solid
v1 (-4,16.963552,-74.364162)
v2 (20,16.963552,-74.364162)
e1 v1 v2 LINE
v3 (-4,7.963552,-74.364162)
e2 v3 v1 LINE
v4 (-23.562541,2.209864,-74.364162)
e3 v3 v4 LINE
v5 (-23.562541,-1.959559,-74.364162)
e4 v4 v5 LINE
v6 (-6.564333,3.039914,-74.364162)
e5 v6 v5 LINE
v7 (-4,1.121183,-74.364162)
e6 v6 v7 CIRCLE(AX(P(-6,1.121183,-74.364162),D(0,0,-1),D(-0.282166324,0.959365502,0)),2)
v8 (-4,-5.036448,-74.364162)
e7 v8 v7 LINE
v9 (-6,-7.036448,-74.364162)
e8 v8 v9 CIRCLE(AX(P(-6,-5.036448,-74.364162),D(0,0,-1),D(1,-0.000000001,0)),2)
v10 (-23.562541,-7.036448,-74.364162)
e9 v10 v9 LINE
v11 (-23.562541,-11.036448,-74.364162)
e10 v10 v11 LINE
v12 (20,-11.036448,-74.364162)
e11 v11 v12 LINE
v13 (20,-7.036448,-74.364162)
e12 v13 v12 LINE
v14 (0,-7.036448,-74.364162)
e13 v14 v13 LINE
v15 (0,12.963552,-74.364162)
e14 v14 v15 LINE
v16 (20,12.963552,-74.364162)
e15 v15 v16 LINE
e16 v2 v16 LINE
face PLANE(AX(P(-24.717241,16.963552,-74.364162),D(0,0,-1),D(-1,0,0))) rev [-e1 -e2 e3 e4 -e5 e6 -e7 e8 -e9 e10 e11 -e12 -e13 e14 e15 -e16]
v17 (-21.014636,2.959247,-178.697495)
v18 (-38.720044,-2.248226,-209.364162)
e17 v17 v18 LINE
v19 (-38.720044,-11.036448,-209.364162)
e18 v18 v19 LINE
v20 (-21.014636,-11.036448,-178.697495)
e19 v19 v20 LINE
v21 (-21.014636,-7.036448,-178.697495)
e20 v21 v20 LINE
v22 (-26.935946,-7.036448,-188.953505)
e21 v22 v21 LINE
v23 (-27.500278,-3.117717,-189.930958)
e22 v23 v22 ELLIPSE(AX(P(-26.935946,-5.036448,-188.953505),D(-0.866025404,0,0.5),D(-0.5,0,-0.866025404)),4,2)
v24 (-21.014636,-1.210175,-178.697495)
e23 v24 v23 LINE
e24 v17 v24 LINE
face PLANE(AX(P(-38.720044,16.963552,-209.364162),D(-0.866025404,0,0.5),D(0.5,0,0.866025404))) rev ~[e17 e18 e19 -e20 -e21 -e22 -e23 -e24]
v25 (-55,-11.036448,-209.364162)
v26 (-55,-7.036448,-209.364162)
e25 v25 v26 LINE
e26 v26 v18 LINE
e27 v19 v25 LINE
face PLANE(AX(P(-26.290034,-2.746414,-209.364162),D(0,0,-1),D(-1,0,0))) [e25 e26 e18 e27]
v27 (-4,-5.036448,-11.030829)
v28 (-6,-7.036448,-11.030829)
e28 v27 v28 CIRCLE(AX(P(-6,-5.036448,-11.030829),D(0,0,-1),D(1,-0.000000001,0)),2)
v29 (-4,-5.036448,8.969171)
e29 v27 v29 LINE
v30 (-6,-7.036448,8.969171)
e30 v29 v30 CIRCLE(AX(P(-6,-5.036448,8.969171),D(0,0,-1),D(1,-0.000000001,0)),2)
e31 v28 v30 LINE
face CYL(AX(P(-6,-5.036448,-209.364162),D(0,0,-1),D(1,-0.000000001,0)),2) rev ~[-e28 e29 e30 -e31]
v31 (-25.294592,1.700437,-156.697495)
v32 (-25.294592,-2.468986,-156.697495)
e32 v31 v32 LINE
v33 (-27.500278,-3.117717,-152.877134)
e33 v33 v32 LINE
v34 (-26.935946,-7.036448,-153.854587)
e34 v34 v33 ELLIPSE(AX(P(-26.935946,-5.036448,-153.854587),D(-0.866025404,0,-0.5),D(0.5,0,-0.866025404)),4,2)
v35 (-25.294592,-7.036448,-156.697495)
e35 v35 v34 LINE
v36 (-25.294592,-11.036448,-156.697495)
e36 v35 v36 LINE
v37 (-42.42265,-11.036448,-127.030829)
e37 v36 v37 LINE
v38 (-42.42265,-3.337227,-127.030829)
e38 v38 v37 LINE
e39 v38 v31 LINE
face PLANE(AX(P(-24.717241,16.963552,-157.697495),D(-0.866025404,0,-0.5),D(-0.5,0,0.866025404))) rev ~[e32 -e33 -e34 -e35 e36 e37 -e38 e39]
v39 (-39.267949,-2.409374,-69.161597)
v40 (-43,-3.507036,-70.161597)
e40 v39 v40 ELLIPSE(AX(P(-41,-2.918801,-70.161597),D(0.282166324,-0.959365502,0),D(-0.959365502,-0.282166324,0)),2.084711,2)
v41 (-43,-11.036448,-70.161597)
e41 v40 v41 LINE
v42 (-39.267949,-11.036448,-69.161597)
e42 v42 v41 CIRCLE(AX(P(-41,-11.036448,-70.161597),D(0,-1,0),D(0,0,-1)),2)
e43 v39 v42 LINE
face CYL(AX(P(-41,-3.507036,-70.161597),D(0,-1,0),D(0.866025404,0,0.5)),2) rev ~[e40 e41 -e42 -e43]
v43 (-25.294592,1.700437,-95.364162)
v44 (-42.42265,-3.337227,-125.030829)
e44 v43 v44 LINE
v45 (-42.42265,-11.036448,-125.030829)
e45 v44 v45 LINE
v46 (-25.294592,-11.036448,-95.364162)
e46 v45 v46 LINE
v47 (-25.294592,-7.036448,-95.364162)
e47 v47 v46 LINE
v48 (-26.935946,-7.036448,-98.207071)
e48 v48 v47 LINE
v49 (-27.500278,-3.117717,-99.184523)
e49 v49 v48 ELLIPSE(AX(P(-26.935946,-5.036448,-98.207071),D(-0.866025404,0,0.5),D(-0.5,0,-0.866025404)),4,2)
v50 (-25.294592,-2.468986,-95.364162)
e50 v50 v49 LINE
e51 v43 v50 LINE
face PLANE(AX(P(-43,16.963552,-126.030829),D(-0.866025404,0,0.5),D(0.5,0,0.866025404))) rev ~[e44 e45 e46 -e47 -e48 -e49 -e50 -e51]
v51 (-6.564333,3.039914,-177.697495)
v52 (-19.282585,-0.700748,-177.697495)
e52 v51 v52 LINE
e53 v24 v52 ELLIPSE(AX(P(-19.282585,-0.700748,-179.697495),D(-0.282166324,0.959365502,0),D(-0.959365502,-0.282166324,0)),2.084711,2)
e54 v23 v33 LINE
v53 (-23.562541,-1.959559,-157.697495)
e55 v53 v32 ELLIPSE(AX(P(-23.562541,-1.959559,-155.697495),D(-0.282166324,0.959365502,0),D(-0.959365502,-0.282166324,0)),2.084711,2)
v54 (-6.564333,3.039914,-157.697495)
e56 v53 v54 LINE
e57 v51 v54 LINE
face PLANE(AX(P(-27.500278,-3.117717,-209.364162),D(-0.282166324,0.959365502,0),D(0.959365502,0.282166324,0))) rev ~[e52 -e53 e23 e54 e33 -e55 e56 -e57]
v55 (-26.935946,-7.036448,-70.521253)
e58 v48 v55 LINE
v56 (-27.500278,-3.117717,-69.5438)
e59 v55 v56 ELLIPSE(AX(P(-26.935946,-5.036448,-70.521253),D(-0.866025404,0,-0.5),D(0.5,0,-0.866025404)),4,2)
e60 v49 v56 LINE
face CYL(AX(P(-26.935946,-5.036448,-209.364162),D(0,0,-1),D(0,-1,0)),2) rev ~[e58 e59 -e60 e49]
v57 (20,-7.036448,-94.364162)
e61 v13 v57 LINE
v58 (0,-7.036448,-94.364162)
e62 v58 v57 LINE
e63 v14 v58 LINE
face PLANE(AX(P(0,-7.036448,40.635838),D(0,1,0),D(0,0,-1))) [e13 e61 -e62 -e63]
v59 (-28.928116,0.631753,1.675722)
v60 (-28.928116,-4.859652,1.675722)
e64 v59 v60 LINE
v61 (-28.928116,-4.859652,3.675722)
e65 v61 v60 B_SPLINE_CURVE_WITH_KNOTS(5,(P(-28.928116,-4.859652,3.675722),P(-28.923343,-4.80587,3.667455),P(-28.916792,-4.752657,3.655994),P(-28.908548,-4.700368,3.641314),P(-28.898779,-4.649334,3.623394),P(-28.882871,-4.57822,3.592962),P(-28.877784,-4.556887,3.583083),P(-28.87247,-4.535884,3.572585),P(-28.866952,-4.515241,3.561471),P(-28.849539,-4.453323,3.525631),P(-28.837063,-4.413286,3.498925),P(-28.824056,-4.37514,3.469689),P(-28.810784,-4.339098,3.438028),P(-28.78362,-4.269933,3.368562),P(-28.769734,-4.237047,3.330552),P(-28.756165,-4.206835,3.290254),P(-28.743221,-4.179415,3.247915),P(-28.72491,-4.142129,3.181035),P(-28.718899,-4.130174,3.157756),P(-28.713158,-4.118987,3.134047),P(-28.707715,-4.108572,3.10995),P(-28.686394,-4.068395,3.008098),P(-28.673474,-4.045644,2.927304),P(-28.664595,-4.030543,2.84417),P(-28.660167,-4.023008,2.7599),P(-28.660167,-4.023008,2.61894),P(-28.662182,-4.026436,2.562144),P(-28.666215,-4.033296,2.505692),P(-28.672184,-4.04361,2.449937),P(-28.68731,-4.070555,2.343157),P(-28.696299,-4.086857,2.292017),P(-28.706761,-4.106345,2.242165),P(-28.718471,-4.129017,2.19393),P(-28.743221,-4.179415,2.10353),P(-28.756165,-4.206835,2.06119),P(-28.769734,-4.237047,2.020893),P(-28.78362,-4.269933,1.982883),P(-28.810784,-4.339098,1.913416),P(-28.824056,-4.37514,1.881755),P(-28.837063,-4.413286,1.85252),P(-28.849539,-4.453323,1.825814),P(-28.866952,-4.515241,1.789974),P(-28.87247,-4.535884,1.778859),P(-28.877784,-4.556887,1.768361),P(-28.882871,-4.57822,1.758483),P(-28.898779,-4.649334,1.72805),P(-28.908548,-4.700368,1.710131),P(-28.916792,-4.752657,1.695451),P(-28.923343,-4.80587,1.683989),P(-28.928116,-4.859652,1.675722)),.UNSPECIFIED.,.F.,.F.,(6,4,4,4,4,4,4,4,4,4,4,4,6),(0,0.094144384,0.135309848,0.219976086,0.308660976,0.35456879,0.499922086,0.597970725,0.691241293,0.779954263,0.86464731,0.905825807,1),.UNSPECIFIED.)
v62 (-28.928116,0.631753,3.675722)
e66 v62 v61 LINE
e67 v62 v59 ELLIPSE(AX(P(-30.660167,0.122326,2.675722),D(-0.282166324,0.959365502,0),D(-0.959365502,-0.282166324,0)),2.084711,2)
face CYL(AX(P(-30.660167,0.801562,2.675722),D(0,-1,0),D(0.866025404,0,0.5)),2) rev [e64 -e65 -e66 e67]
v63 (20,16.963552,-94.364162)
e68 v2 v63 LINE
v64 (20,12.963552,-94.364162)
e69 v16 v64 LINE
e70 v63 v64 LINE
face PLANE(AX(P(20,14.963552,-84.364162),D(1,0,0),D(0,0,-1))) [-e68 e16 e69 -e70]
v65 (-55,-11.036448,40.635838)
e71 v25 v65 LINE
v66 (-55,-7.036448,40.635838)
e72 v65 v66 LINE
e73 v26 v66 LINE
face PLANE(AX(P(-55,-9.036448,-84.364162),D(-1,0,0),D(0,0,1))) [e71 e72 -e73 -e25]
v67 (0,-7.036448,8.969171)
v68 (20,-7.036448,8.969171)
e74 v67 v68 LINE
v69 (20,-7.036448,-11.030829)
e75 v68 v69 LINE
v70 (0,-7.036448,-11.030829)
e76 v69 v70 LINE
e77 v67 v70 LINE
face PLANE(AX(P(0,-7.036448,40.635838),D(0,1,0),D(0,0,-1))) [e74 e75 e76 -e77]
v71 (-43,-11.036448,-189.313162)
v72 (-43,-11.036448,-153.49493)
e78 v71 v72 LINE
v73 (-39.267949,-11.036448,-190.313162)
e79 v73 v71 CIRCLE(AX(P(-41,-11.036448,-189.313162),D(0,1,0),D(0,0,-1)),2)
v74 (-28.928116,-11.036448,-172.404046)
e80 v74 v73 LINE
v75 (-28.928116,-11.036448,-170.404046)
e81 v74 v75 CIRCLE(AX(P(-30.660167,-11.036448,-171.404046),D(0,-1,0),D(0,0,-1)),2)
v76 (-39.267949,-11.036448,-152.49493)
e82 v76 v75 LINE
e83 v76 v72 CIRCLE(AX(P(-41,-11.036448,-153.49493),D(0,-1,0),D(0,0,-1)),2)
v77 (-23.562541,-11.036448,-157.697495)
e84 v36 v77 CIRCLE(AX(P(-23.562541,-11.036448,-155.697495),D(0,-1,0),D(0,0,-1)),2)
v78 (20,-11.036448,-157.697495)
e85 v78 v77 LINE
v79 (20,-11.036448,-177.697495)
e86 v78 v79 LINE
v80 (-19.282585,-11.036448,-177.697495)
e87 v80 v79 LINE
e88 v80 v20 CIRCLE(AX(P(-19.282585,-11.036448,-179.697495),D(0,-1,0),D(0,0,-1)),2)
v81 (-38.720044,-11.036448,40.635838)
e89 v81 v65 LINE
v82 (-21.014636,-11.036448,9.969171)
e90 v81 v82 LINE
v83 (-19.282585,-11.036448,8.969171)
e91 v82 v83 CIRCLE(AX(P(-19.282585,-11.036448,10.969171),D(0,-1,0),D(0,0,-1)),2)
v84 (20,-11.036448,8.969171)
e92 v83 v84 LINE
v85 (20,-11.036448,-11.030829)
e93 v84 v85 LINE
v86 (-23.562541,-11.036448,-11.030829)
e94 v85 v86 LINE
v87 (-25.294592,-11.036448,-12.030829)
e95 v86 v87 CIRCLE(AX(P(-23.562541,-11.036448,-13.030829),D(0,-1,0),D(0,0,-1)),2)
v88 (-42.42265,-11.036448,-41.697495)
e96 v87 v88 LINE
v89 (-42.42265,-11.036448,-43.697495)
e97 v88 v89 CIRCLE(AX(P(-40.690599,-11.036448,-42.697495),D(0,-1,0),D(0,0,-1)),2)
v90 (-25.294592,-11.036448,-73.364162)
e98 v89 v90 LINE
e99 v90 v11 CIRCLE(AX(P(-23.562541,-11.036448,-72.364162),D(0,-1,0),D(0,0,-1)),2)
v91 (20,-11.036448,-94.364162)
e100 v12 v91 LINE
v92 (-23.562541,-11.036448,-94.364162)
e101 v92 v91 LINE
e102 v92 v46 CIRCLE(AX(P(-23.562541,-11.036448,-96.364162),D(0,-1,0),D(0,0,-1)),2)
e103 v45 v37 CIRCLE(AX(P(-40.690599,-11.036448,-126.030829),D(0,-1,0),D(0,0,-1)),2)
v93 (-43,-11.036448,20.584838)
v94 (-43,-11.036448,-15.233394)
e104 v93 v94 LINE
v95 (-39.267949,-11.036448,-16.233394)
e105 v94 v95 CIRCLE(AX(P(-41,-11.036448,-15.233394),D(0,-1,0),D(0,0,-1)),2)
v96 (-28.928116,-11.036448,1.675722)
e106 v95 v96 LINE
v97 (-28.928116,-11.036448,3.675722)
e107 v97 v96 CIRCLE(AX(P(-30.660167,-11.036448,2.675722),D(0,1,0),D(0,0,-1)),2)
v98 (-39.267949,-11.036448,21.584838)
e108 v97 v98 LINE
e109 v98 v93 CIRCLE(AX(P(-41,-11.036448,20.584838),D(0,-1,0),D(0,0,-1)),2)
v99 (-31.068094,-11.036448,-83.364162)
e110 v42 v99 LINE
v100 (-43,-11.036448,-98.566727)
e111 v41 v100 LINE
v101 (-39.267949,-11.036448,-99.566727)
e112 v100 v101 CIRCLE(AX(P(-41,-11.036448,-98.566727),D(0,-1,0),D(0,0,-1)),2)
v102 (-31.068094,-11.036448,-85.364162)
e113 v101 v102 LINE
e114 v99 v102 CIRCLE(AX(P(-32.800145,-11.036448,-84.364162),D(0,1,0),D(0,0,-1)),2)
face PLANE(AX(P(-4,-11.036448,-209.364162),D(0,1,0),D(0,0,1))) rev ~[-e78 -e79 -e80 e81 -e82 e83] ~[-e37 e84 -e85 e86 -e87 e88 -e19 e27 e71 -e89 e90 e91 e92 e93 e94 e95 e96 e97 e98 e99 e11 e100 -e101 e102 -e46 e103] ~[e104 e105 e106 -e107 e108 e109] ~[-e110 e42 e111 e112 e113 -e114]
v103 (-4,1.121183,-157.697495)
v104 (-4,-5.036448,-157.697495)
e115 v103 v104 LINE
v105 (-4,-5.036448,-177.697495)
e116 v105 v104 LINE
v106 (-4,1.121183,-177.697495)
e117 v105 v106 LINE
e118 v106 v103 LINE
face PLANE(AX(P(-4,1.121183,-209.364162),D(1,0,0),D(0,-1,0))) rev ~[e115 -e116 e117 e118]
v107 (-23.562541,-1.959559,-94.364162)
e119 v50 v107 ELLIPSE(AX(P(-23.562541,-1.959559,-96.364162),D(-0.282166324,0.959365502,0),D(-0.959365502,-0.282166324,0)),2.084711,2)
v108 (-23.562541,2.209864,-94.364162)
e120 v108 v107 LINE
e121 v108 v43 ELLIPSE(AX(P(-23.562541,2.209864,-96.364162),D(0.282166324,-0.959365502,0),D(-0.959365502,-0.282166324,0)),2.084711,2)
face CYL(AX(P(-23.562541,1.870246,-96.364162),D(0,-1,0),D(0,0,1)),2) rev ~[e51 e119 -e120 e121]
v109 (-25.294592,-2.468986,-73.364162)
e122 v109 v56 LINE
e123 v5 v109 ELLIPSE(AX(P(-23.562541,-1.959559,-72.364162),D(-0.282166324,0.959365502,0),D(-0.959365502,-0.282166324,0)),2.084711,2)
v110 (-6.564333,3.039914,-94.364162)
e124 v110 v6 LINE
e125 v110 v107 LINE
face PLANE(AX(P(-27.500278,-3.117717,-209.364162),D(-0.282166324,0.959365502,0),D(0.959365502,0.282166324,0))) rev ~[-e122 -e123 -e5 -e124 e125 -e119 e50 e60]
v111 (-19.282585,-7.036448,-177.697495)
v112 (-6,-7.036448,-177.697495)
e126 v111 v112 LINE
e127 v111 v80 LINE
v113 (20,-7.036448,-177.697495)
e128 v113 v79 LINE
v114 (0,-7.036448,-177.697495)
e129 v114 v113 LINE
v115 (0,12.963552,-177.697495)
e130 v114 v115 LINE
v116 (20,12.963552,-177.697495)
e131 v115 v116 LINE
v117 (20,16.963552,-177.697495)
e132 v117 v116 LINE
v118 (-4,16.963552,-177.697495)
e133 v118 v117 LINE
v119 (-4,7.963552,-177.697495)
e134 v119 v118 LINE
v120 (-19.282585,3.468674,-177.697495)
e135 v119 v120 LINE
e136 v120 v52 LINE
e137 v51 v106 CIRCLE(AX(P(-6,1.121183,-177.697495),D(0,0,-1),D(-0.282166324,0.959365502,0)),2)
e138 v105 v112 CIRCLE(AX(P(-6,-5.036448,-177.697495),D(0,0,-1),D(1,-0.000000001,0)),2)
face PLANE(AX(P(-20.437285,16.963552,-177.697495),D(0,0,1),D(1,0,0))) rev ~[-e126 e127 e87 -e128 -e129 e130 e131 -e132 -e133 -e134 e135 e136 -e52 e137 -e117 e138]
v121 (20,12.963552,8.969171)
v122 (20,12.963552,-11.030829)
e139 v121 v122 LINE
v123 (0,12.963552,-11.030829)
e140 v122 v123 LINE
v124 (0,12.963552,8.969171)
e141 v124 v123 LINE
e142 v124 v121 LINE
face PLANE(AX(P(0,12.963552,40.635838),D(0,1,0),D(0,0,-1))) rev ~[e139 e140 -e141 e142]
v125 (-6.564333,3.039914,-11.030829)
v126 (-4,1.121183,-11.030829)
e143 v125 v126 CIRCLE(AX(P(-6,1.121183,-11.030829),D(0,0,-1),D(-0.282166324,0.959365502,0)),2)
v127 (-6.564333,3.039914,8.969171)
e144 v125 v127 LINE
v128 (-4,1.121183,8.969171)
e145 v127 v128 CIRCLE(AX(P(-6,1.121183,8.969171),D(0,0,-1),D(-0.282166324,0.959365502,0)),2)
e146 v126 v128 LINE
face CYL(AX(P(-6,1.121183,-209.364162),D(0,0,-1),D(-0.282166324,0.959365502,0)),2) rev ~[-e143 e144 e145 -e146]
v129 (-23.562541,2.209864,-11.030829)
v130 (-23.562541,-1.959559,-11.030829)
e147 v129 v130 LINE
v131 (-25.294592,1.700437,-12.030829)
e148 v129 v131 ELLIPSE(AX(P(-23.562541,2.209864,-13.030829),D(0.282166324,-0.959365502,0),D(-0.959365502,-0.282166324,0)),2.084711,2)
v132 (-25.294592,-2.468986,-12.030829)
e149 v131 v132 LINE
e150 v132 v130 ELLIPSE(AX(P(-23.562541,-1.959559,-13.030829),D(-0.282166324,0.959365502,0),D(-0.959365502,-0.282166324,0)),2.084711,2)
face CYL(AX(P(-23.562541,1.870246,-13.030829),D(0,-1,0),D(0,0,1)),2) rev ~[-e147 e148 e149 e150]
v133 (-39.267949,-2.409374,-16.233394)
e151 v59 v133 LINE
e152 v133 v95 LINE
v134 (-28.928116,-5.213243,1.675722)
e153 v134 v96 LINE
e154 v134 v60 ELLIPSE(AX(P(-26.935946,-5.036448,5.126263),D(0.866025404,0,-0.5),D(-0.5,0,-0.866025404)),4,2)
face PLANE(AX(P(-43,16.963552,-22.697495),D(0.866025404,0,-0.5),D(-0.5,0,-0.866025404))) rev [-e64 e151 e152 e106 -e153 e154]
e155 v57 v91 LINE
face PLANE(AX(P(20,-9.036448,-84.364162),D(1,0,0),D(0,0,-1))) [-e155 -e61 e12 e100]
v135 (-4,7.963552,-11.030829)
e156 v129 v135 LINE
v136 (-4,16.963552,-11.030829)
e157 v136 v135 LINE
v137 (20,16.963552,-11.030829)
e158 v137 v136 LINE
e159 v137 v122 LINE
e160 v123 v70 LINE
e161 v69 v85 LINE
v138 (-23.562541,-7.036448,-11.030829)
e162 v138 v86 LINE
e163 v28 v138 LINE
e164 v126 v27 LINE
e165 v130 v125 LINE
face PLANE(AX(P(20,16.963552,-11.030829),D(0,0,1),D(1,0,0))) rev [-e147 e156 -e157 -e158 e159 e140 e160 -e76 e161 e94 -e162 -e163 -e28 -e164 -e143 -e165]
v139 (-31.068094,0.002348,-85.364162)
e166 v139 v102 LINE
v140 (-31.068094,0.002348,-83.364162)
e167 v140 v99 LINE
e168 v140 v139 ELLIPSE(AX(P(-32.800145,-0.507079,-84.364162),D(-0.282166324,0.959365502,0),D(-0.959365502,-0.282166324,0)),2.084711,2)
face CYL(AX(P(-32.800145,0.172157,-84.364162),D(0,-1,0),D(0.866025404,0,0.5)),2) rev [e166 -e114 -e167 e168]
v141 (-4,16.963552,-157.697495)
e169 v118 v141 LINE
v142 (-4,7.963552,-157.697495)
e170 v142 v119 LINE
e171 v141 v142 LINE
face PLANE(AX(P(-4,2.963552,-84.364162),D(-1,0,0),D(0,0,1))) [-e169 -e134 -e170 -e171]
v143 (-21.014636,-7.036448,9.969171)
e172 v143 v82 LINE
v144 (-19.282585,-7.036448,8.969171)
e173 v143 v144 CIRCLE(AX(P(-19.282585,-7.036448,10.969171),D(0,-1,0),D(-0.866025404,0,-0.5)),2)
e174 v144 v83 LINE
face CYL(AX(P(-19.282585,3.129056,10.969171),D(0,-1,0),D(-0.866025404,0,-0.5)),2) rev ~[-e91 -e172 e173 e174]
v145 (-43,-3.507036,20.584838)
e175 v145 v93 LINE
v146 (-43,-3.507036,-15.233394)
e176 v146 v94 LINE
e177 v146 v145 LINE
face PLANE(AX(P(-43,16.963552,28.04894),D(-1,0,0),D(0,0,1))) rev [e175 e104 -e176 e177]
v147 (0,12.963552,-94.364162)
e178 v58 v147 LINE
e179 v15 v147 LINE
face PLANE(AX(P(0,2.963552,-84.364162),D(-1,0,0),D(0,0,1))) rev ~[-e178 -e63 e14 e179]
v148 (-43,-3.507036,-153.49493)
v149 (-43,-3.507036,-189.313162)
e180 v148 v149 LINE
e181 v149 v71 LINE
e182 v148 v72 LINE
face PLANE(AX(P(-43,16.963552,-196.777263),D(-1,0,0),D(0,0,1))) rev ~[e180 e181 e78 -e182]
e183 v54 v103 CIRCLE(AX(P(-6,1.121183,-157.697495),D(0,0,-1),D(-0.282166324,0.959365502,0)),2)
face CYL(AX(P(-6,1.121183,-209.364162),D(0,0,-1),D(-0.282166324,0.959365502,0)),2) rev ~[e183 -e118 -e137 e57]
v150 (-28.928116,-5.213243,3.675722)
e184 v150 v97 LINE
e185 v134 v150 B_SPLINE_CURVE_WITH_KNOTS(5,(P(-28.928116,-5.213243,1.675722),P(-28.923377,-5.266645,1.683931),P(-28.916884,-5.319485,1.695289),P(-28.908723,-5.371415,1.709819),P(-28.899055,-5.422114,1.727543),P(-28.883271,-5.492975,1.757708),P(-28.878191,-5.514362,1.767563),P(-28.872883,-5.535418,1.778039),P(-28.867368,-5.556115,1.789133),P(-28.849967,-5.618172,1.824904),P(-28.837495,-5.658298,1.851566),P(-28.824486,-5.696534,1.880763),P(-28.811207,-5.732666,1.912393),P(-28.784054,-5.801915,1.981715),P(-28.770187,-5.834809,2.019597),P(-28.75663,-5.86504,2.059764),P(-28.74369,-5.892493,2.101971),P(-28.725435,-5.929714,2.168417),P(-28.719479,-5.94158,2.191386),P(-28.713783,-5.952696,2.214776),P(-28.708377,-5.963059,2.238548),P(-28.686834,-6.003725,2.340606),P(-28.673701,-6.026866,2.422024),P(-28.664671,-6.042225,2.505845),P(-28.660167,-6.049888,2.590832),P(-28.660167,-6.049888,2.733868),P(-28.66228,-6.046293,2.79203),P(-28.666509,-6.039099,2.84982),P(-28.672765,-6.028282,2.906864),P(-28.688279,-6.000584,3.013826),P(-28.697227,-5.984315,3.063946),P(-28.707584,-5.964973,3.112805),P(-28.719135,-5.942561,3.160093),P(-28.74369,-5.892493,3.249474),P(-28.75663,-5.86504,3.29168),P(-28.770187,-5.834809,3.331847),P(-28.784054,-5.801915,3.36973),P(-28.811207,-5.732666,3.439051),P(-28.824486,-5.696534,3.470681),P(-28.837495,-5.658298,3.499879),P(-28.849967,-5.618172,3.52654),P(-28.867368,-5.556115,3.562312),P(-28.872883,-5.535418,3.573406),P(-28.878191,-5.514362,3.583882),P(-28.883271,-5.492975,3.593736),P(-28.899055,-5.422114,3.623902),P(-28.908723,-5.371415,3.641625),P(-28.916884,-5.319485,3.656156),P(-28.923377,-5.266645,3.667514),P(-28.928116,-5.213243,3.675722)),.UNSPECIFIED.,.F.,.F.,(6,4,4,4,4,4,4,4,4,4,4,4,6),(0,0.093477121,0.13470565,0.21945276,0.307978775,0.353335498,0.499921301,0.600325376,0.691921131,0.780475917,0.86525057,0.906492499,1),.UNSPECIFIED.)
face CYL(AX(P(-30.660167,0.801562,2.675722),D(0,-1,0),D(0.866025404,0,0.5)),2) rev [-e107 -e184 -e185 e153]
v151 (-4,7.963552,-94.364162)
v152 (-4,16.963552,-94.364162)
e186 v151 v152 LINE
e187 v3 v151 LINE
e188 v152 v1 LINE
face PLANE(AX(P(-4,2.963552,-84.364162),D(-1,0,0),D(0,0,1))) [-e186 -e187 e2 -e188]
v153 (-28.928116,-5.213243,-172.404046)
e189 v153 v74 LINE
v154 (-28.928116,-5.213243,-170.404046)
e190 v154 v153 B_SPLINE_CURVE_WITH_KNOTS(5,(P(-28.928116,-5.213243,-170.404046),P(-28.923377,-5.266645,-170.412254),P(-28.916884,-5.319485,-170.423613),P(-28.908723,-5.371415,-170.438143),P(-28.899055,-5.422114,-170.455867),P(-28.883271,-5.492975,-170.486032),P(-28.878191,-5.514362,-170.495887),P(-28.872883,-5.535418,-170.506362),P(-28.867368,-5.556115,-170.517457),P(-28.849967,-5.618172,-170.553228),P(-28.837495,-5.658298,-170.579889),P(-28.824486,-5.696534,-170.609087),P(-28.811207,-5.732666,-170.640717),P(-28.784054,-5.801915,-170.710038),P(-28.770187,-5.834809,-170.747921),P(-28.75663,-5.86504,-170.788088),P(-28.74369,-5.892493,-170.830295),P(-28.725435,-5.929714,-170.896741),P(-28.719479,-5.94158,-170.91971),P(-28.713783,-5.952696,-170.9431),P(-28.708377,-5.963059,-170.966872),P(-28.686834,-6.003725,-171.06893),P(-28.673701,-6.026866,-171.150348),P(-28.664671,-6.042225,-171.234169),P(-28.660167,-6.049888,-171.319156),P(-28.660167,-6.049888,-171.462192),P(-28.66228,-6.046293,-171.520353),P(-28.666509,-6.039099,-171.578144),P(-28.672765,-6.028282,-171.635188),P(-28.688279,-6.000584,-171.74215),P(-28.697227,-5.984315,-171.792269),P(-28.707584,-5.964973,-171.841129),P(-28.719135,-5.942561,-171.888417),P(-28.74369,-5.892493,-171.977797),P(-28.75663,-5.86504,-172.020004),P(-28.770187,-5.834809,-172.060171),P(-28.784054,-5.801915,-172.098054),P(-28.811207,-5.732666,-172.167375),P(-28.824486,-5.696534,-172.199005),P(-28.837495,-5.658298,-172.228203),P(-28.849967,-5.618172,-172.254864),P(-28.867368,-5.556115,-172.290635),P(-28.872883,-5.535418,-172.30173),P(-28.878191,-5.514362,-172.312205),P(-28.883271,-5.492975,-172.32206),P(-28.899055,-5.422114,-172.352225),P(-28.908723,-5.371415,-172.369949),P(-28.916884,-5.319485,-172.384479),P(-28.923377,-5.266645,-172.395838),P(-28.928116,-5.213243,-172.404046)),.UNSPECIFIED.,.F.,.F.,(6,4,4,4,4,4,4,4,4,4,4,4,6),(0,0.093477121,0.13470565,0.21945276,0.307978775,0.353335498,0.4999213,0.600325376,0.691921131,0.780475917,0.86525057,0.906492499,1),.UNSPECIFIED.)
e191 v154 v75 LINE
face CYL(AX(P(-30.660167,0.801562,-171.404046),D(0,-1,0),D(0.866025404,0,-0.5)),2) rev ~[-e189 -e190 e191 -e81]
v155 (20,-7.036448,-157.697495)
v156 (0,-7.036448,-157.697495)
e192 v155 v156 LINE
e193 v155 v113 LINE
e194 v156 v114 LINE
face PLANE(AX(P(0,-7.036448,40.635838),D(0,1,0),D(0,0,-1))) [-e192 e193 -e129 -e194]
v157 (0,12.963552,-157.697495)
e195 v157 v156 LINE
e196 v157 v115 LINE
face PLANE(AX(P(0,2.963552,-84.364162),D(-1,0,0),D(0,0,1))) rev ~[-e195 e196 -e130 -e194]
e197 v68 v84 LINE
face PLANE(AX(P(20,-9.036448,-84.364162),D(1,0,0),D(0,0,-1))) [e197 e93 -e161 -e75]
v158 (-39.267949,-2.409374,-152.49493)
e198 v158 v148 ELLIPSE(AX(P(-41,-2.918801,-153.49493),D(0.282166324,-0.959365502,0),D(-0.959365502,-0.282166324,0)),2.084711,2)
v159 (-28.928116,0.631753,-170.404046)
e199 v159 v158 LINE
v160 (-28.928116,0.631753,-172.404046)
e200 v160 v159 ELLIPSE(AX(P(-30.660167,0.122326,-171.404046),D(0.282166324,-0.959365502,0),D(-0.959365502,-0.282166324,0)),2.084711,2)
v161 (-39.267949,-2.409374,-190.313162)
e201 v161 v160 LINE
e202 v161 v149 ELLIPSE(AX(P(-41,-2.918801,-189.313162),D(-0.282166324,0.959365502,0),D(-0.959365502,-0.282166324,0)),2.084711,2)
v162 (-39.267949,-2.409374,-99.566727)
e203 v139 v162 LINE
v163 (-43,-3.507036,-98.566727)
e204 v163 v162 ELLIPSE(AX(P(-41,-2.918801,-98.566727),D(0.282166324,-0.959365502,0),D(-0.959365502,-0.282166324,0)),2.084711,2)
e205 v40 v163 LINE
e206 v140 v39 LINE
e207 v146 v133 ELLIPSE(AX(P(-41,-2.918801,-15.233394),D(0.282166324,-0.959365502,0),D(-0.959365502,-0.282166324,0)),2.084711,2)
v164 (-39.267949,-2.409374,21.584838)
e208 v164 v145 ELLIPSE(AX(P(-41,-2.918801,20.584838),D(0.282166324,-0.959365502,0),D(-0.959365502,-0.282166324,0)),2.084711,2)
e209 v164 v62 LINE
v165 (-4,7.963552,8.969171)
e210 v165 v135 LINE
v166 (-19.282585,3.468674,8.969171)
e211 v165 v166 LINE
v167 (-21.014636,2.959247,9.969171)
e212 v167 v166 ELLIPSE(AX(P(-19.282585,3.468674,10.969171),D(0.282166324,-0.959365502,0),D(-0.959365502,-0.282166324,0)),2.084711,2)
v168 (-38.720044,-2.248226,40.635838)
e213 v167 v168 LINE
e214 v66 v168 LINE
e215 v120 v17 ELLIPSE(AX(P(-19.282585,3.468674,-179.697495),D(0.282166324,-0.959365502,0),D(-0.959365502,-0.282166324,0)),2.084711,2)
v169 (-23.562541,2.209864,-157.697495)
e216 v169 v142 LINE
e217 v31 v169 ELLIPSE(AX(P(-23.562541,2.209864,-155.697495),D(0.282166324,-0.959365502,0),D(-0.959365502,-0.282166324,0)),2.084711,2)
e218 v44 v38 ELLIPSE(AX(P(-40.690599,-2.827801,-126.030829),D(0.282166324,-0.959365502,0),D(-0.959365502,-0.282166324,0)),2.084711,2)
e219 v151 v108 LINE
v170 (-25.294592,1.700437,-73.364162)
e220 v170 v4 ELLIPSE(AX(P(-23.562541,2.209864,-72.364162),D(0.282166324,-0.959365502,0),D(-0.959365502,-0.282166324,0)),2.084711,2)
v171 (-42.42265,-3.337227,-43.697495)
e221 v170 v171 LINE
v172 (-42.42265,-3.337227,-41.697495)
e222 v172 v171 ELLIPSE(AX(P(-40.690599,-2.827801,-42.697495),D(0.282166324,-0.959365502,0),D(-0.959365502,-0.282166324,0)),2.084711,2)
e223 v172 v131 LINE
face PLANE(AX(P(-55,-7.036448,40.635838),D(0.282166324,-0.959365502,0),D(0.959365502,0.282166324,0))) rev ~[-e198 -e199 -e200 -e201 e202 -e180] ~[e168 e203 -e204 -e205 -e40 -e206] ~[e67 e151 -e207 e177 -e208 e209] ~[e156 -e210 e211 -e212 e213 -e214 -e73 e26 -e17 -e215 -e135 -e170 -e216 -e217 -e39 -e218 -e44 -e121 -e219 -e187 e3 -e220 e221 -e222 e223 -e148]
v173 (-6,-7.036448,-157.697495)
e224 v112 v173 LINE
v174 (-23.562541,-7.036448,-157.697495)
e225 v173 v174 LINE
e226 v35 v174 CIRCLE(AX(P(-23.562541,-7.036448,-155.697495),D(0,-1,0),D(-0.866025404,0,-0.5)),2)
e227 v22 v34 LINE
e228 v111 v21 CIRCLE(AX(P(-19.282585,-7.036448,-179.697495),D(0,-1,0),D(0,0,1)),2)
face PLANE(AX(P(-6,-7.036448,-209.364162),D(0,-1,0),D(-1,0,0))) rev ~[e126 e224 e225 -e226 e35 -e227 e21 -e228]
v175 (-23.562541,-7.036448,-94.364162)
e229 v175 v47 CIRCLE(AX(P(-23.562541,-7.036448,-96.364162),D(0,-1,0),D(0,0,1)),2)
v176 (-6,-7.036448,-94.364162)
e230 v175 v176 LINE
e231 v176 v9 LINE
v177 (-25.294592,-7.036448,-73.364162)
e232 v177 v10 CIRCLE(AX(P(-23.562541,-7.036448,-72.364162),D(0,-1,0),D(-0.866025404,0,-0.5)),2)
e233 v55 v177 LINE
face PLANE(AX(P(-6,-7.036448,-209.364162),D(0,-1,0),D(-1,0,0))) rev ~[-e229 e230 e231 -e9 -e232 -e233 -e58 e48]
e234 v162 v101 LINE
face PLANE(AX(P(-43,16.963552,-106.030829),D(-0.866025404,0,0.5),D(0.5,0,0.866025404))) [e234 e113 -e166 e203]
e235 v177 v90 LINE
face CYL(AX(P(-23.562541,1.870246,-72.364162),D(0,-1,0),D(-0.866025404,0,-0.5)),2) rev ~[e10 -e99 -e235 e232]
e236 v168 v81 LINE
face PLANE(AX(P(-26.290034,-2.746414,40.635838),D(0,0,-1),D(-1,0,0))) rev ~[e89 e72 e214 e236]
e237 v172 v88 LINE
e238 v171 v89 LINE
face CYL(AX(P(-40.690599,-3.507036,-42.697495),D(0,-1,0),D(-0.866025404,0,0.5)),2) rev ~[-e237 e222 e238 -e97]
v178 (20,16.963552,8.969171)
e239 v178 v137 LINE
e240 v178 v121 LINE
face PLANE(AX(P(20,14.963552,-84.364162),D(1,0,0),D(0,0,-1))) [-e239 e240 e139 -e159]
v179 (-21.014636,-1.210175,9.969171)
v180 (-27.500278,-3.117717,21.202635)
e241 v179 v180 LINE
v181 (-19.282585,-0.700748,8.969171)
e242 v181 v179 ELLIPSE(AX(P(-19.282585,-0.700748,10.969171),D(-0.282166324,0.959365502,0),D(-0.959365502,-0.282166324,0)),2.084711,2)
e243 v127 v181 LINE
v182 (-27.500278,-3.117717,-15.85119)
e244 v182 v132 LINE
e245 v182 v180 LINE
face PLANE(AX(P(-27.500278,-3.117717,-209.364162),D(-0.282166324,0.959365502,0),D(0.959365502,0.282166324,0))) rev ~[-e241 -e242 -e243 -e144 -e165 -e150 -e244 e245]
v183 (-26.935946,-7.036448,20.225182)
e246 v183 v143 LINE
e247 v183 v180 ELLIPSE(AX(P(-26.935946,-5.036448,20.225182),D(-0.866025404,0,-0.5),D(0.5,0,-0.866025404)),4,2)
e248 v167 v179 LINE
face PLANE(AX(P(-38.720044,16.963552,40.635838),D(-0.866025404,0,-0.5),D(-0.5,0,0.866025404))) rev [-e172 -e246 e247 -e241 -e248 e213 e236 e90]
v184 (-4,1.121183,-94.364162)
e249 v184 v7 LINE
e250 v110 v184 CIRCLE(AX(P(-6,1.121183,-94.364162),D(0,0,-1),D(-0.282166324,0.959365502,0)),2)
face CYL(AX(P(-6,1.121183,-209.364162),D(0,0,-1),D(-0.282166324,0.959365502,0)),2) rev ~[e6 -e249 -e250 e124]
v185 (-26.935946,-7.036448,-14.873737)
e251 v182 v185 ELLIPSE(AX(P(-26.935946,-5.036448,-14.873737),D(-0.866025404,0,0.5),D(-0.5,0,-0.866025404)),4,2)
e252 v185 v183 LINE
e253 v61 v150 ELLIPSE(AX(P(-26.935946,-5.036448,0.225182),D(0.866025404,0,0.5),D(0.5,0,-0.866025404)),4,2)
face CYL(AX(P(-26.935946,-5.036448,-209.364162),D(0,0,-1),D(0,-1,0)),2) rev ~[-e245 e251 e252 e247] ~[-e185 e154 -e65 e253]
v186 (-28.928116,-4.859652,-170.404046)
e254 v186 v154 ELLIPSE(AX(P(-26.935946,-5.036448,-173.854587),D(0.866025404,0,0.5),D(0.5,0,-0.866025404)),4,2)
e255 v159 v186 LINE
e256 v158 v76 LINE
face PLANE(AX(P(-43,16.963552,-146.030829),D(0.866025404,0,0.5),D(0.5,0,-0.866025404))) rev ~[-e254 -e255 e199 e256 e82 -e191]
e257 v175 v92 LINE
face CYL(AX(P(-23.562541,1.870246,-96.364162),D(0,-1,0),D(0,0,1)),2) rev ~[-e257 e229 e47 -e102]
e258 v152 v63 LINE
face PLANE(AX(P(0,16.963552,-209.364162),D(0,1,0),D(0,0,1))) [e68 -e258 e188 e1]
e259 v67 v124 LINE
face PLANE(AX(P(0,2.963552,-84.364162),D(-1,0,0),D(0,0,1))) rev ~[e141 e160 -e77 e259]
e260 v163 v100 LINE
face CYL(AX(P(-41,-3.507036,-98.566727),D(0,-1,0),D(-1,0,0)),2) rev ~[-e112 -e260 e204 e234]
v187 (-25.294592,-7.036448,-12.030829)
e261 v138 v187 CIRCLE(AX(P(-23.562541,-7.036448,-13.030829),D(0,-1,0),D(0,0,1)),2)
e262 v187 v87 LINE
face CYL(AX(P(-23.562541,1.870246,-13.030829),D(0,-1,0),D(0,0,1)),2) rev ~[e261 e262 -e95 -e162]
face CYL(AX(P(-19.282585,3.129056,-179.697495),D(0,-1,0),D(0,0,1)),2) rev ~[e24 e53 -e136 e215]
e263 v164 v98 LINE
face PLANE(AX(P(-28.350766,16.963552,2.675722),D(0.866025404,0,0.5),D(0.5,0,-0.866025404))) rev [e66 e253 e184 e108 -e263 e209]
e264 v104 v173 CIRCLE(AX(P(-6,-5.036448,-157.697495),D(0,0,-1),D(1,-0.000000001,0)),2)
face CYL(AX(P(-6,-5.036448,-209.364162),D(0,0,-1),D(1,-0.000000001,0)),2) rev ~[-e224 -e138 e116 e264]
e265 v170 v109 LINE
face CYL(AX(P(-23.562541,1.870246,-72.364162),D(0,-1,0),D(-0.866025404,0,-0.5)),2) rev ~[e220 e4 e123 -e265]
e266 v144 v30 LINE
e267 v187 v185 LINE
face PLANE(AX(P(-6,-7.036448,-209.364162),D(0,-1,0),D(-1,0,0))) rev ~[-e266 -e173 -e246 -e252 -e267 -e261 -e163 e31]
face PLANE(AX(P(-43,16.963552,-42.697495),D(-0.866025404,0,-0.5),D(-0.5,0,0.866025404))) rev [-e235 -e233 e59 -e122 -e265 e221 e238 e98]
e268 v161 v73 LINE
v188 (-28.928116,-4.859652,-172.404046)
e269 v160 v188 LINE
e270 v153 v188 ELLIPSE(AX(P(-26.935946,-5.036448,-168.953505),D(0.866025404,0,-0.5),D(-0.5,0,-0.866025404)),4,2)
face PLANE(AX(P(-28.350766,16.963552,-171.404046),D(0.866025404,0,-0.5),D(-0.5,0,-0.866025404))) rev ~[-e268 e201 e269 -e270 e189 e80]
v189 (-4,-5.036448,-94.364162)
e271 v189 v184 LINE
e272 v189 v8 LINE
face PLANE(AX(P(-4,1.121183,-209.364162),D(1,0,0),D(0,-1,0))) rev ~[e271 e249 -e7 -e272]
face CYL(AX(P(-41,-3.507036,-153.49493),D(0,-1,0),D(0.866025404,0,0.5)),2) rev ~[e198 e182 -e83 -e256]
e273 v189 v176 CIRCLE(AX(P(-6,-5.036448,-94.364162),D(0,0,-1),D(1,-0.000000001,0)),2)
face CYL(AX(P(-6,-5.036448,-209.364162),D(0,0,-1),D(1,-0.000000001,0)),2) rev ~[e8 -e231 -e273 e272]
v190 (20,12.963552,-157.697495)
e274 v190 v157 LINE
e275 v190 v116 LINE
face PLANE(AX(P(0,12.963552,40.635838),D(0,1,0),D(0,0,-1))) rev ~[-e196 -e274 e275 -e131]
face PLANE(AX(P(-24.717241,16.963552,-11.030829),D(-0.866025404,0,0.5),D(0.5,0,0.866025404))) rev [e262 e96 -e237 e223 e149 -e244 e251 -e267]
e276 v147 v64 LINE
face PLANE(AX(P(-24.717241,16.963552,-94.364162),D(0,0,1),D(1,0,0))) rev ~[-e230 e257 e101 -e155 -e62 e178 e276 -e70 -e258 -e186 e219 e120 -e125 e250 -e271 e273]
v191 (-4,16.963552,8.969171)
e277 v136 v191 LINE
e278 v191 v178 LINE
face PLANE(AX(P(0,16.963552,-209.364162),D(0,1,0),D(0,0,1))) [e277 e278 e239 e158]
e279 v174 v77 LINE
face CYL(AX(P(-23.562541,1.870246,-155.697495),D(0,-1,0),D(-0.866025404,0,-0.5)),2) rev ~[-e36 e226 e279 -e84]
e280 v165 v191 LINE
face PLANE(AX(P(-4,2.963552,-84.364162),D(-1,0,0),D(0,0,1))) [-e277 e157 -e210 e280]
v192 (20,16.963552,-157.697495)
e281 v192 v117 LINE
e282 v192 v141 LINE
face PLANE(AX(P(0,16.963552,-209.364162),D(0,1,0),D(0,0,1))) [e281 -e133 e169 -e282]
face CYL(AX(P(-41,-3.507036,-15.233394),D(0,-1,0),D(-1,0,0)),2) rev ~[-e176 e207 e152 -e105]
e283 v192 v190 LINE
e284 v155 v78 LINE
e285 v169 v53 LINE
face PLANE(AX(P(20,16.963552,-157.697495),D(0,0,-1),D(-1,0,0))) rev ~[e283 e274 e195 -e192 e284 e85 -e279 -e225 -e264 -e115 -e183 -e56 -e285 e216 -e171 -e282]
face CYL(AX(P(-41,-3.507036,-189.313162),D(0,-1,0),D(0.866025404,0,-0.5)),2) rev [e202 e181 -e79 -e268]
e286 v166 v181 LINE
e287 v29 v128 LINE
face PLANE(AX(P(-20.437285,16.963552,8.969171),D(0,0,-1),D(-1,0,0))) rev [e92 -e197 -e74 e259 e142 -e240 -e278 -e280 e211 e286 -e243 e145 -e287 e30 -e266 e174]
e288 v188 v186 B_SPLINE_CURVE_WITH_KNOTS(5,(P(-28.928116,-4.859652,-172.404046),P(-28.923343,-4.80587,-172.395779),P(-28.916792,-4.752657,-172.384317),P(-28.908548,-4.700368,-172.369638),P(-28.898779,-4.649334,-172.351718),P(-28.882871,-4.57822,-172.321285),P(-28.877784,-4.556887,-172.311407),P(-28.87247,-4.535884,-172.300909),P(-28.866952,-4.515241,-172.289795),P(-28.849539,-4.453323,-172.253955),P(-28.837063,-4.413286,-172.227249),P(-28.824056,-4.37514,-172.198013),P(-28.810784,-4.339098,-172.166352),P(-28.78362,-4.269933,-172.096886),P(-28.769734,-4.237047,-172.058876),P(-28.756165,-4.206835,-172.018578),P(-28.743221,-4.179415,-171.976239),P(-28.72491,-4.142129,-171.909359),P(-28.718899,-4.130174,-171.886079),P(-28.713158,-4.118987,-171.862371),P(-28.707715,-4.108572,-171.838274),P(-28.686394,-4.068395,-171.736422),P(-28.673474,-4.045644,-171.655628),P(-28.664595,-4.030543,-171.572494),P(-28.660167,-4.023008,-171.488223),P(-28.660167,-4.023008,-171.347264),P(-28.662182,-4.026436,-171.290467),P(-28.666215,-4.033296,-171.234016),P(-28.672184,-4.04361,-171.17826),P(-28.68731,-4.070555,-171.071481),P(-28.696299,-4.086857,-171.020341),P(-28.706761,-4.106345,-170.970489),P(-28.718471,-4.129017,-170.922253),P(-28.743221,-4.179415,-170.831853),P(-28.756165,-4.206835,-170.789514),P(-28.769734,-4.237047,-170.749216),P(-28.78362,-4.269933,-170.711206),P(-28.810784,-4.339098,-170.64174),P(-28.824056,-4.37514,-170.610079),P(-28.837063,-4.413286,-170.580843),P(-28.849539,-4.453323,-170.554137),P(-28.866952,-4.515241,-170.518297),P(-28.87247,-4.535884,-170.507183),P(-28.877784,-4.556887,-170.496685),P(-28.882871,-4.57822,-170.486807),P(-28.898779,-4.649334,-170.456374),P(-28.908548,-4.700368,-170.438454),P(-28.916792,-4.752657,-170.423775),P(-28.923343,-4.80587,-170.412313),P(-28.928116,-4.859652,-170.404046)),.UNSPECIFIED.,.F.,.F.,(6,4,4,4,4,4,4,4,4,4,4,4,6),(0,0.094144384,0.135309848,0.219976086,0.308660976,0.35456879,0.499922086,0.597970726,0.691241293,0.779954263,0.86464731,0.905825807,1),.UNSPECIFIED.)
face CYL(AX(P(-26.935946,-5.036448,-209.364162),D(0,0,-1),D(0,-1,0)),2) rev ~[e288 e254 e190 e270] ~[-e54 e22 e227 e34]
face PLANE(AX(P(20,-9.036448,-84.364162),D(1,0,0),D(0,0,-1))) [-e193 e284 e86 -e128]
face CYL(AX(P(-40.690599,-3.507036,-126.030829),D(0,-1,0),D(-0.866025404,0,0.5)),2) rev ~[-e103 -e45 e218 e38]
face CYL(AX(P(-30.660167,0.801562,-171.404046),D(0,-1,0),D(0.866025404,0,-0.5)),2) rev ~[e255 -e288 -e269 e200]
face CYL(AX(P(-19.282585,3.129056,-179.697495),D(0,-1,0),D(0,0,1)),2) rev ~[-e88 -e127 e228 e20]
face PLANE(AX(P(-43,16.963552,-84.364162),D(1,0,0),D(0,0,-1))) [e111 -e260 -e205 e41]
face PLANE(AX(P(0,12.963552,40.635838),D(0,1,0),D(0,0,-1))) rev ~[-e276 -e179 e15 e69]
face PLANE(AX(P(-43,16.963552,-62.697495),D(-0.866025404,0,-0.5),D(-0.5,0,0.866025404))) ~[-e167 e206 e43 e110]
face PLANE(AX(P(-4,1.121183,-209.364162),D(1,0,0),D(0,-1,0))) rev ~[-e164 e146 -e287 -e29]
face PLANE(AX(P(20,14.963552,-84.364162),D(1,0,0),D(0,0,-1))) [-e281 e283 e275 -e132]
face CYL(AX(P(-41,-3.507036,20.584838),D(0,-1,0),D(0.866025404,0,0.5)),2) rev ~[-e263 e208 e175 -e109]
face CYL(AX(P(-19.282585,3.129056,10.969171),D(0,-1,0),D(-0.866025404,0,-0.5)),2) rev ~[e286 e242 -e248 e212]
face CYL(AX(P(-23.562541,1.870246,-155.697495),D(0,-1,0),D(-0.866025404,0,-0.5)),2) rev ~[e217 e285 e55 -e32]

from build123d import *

# Parameters (mm, degrees)
SKETCH_1_W          = 250
SKETCH_1_H          = 4
EXTRUDE_1_DEPTH     = 20
EXTRUDE_1_2_DEPTH   = 20
SKETCH_2_W          = 250
SKETCH_2_H          = 28
EXTRUDE_2_DEPTH     = 4
SKETCH_3_W          = 250
SKETCH_3_H          = 4
EXTRUDE_3_DEPTH     = 51
EXTRUDE_4_DEPTH     = 250
CUT_EXTRUDE_1_DEPTH = 55
FILLET_1_R          = 2
CUT_EXTRUDE_2_DEPTH = 250


with BuildPart() as part:
    # 草图1 → 凸台-拉伸1 (new body)
    with BuildSketch(Plane(origin=(0, 0, 0), x_dir=(0, 0, -1), z_dir=(1, 0, 0))):
        with Locations((84.36416185, 14.963552055)):
            Rectangle(SKETCH_1_W, SKETCH_1_H)
    extrude(amount=EXTRUDE_1_DEPTH)



with BuildPart() as body_2:
    # 草图1 → Extrude 1 2 (new body)
    with BuildSketch(Plane(origin=(0, 0, 0), x_dir=(0, 0, -1), z_dir=(1, 0, 0))):
        with Locations((84.36416185, -9.036447945)):
            Rectangle(SKETCH_1_W, SKETCH_1_H)
    extrude(amount=EXTRUDE_1_2_DEPTH)


with BuildPart() as part_1:
    add(part.part)

    add(body_2.part)  # 凸台-拉伸2 merges body 2
    # 草图2 → 凸台-拉伸2 (add)
    with BuildSketch(Plane.ZY):
        with Locations((-84.36416185, 2.963552055)):
            Rectangle(SKETCH_2_W, SKETCH_2_H)
    extrude(amount=EXTRUDE_2_DEPTH)

    # 草图3 → 凸台-拉伸3 (add)
    with BuildSketch(Plane.ZY.offset(4)):
        with Locations((-84.36416185, -9.036447945)):
            Rectangle(SKETCH_3_W, SKETCH_3_H)
    extrude(amount=EXTRUDE_3_DEPTH)

    # 草图5 → 凸台-拉伸4 (add)
    with BuildSketch(Plane.XY.offset(40.63583815)):
        Polygon((-4, -7.036447945), (-55, -7.036447945), (-4, 7.963552055), align=None)
    extrude(amount=-EXTRUDE_4_DEPTH)

    # 草图7 → 切除-拉伸1 (cut)
    with BuildSketch(Plane(origin=(0, 16.963552055, 0), x_dir=(1, 0, 0), z_dir=(0, 1, 0))):
        Polygon((-38.720043801, 209.36416185), (-20.437285277, 177.697495183), (20, 177.697495183), (20, 209.36416185), align=None)
        Polygon((20, 157.697495183), (-24.717241476, 157.697495183), (-43, 126.030828516), (-24.717241476, 94.36416185), (20, 94.36416185), align=None)
        Polygon((-43, 196.77726344), (-43, 146.030828516), (-28.350766068, 171.404045978), align=None)
        Polygon((-43, 106.030828516), (-30.490744168, 84.36416185), (-43, 84.36416185), align=None)
    cut_extrude_1 = extrude(amount=-CUT_EXTRUDE_1_DEPTH, mode=Mode.SUBTRACT)

    # 镜向1: 切除-拉伸1 across plane
    add(cut_extrude_1.mirror(Plane(origin=(0, 0, -84.36416185), x_dir=(1, 0, 0), z_dir=(0, 0, -1))), mode=Mode.SUBTRACT)

    # 圆角1
    fillet_1_edges = [part_1.edges().sort_by_distance(p)[0] for p in [
        (-24.717241476, -4.583101103, -94.36416185),
        (-43, -7.271742062, -126.030828516),
        (-24.717241476, -4.583101103, -157.697495183),
        (-43, -7.271742062, -106.030828516),
        (-30.490744168, -5.432145617, -84.36416185),
        (-20.437285277, -3.95369578, -177.697495183),
        (-28.350766068, -5.117442955, 2.675722279),
        (-43, -7.271742062, 28.048939741),
        (-43, -7.271742062, -22.697495183),
        (-24.717241476, -4.583101103, -11.030828516),
        (-43, -7.271742062, -42.697495183),
        (-24.717241476, -4.583101103, -74.36416185),
        (-43, -7.271742062, -62.697495183),
        (-20.437285277, -3.95369578, 8.969171484),
        (-43, -7.271742062, -196.77726344),
        (-28.350766068, -5.117442955, -171.404045978),
        (-43, -7.271742062, -146.030828516),
    ]]
    fillet(fillet_1_edges, radius=FILLET_1_R)

    # 草图8 → 切除-拉伸2 (cut)
    with BuildSketch(Plane(origin=(0, 0, -209.36416185), x_dir=(-1, 0, 0), z_dir=(0, 0, -1))):
        with BuildLine():
            Line((4, 1.12118318), (4, -5.036447945))
            ThreePointArc((4, -5.036447945), (4.585786438, -6.450661507), (6, -7.036447945))
            Line((6, -7.036447945), (26.935945824, -7.036447945))
            ThreePointArc((26.935945824, -7.036447945), (28.915524315, -5.321525122), (27.500278472, -3.117716942))
            Line((27.500278472, -3.117716942), (6.564332648, 3.039914183))
            ThreePointArc((6.564332648, 3.039914183), (4.80180663, 2.72253656), (4, 1.12118318))
        make_face()
    extrude(amount=-CUT_EXTRUDE_2_DEPTH, mode=Mode.SUBTRACT)


solid = part_1.part
